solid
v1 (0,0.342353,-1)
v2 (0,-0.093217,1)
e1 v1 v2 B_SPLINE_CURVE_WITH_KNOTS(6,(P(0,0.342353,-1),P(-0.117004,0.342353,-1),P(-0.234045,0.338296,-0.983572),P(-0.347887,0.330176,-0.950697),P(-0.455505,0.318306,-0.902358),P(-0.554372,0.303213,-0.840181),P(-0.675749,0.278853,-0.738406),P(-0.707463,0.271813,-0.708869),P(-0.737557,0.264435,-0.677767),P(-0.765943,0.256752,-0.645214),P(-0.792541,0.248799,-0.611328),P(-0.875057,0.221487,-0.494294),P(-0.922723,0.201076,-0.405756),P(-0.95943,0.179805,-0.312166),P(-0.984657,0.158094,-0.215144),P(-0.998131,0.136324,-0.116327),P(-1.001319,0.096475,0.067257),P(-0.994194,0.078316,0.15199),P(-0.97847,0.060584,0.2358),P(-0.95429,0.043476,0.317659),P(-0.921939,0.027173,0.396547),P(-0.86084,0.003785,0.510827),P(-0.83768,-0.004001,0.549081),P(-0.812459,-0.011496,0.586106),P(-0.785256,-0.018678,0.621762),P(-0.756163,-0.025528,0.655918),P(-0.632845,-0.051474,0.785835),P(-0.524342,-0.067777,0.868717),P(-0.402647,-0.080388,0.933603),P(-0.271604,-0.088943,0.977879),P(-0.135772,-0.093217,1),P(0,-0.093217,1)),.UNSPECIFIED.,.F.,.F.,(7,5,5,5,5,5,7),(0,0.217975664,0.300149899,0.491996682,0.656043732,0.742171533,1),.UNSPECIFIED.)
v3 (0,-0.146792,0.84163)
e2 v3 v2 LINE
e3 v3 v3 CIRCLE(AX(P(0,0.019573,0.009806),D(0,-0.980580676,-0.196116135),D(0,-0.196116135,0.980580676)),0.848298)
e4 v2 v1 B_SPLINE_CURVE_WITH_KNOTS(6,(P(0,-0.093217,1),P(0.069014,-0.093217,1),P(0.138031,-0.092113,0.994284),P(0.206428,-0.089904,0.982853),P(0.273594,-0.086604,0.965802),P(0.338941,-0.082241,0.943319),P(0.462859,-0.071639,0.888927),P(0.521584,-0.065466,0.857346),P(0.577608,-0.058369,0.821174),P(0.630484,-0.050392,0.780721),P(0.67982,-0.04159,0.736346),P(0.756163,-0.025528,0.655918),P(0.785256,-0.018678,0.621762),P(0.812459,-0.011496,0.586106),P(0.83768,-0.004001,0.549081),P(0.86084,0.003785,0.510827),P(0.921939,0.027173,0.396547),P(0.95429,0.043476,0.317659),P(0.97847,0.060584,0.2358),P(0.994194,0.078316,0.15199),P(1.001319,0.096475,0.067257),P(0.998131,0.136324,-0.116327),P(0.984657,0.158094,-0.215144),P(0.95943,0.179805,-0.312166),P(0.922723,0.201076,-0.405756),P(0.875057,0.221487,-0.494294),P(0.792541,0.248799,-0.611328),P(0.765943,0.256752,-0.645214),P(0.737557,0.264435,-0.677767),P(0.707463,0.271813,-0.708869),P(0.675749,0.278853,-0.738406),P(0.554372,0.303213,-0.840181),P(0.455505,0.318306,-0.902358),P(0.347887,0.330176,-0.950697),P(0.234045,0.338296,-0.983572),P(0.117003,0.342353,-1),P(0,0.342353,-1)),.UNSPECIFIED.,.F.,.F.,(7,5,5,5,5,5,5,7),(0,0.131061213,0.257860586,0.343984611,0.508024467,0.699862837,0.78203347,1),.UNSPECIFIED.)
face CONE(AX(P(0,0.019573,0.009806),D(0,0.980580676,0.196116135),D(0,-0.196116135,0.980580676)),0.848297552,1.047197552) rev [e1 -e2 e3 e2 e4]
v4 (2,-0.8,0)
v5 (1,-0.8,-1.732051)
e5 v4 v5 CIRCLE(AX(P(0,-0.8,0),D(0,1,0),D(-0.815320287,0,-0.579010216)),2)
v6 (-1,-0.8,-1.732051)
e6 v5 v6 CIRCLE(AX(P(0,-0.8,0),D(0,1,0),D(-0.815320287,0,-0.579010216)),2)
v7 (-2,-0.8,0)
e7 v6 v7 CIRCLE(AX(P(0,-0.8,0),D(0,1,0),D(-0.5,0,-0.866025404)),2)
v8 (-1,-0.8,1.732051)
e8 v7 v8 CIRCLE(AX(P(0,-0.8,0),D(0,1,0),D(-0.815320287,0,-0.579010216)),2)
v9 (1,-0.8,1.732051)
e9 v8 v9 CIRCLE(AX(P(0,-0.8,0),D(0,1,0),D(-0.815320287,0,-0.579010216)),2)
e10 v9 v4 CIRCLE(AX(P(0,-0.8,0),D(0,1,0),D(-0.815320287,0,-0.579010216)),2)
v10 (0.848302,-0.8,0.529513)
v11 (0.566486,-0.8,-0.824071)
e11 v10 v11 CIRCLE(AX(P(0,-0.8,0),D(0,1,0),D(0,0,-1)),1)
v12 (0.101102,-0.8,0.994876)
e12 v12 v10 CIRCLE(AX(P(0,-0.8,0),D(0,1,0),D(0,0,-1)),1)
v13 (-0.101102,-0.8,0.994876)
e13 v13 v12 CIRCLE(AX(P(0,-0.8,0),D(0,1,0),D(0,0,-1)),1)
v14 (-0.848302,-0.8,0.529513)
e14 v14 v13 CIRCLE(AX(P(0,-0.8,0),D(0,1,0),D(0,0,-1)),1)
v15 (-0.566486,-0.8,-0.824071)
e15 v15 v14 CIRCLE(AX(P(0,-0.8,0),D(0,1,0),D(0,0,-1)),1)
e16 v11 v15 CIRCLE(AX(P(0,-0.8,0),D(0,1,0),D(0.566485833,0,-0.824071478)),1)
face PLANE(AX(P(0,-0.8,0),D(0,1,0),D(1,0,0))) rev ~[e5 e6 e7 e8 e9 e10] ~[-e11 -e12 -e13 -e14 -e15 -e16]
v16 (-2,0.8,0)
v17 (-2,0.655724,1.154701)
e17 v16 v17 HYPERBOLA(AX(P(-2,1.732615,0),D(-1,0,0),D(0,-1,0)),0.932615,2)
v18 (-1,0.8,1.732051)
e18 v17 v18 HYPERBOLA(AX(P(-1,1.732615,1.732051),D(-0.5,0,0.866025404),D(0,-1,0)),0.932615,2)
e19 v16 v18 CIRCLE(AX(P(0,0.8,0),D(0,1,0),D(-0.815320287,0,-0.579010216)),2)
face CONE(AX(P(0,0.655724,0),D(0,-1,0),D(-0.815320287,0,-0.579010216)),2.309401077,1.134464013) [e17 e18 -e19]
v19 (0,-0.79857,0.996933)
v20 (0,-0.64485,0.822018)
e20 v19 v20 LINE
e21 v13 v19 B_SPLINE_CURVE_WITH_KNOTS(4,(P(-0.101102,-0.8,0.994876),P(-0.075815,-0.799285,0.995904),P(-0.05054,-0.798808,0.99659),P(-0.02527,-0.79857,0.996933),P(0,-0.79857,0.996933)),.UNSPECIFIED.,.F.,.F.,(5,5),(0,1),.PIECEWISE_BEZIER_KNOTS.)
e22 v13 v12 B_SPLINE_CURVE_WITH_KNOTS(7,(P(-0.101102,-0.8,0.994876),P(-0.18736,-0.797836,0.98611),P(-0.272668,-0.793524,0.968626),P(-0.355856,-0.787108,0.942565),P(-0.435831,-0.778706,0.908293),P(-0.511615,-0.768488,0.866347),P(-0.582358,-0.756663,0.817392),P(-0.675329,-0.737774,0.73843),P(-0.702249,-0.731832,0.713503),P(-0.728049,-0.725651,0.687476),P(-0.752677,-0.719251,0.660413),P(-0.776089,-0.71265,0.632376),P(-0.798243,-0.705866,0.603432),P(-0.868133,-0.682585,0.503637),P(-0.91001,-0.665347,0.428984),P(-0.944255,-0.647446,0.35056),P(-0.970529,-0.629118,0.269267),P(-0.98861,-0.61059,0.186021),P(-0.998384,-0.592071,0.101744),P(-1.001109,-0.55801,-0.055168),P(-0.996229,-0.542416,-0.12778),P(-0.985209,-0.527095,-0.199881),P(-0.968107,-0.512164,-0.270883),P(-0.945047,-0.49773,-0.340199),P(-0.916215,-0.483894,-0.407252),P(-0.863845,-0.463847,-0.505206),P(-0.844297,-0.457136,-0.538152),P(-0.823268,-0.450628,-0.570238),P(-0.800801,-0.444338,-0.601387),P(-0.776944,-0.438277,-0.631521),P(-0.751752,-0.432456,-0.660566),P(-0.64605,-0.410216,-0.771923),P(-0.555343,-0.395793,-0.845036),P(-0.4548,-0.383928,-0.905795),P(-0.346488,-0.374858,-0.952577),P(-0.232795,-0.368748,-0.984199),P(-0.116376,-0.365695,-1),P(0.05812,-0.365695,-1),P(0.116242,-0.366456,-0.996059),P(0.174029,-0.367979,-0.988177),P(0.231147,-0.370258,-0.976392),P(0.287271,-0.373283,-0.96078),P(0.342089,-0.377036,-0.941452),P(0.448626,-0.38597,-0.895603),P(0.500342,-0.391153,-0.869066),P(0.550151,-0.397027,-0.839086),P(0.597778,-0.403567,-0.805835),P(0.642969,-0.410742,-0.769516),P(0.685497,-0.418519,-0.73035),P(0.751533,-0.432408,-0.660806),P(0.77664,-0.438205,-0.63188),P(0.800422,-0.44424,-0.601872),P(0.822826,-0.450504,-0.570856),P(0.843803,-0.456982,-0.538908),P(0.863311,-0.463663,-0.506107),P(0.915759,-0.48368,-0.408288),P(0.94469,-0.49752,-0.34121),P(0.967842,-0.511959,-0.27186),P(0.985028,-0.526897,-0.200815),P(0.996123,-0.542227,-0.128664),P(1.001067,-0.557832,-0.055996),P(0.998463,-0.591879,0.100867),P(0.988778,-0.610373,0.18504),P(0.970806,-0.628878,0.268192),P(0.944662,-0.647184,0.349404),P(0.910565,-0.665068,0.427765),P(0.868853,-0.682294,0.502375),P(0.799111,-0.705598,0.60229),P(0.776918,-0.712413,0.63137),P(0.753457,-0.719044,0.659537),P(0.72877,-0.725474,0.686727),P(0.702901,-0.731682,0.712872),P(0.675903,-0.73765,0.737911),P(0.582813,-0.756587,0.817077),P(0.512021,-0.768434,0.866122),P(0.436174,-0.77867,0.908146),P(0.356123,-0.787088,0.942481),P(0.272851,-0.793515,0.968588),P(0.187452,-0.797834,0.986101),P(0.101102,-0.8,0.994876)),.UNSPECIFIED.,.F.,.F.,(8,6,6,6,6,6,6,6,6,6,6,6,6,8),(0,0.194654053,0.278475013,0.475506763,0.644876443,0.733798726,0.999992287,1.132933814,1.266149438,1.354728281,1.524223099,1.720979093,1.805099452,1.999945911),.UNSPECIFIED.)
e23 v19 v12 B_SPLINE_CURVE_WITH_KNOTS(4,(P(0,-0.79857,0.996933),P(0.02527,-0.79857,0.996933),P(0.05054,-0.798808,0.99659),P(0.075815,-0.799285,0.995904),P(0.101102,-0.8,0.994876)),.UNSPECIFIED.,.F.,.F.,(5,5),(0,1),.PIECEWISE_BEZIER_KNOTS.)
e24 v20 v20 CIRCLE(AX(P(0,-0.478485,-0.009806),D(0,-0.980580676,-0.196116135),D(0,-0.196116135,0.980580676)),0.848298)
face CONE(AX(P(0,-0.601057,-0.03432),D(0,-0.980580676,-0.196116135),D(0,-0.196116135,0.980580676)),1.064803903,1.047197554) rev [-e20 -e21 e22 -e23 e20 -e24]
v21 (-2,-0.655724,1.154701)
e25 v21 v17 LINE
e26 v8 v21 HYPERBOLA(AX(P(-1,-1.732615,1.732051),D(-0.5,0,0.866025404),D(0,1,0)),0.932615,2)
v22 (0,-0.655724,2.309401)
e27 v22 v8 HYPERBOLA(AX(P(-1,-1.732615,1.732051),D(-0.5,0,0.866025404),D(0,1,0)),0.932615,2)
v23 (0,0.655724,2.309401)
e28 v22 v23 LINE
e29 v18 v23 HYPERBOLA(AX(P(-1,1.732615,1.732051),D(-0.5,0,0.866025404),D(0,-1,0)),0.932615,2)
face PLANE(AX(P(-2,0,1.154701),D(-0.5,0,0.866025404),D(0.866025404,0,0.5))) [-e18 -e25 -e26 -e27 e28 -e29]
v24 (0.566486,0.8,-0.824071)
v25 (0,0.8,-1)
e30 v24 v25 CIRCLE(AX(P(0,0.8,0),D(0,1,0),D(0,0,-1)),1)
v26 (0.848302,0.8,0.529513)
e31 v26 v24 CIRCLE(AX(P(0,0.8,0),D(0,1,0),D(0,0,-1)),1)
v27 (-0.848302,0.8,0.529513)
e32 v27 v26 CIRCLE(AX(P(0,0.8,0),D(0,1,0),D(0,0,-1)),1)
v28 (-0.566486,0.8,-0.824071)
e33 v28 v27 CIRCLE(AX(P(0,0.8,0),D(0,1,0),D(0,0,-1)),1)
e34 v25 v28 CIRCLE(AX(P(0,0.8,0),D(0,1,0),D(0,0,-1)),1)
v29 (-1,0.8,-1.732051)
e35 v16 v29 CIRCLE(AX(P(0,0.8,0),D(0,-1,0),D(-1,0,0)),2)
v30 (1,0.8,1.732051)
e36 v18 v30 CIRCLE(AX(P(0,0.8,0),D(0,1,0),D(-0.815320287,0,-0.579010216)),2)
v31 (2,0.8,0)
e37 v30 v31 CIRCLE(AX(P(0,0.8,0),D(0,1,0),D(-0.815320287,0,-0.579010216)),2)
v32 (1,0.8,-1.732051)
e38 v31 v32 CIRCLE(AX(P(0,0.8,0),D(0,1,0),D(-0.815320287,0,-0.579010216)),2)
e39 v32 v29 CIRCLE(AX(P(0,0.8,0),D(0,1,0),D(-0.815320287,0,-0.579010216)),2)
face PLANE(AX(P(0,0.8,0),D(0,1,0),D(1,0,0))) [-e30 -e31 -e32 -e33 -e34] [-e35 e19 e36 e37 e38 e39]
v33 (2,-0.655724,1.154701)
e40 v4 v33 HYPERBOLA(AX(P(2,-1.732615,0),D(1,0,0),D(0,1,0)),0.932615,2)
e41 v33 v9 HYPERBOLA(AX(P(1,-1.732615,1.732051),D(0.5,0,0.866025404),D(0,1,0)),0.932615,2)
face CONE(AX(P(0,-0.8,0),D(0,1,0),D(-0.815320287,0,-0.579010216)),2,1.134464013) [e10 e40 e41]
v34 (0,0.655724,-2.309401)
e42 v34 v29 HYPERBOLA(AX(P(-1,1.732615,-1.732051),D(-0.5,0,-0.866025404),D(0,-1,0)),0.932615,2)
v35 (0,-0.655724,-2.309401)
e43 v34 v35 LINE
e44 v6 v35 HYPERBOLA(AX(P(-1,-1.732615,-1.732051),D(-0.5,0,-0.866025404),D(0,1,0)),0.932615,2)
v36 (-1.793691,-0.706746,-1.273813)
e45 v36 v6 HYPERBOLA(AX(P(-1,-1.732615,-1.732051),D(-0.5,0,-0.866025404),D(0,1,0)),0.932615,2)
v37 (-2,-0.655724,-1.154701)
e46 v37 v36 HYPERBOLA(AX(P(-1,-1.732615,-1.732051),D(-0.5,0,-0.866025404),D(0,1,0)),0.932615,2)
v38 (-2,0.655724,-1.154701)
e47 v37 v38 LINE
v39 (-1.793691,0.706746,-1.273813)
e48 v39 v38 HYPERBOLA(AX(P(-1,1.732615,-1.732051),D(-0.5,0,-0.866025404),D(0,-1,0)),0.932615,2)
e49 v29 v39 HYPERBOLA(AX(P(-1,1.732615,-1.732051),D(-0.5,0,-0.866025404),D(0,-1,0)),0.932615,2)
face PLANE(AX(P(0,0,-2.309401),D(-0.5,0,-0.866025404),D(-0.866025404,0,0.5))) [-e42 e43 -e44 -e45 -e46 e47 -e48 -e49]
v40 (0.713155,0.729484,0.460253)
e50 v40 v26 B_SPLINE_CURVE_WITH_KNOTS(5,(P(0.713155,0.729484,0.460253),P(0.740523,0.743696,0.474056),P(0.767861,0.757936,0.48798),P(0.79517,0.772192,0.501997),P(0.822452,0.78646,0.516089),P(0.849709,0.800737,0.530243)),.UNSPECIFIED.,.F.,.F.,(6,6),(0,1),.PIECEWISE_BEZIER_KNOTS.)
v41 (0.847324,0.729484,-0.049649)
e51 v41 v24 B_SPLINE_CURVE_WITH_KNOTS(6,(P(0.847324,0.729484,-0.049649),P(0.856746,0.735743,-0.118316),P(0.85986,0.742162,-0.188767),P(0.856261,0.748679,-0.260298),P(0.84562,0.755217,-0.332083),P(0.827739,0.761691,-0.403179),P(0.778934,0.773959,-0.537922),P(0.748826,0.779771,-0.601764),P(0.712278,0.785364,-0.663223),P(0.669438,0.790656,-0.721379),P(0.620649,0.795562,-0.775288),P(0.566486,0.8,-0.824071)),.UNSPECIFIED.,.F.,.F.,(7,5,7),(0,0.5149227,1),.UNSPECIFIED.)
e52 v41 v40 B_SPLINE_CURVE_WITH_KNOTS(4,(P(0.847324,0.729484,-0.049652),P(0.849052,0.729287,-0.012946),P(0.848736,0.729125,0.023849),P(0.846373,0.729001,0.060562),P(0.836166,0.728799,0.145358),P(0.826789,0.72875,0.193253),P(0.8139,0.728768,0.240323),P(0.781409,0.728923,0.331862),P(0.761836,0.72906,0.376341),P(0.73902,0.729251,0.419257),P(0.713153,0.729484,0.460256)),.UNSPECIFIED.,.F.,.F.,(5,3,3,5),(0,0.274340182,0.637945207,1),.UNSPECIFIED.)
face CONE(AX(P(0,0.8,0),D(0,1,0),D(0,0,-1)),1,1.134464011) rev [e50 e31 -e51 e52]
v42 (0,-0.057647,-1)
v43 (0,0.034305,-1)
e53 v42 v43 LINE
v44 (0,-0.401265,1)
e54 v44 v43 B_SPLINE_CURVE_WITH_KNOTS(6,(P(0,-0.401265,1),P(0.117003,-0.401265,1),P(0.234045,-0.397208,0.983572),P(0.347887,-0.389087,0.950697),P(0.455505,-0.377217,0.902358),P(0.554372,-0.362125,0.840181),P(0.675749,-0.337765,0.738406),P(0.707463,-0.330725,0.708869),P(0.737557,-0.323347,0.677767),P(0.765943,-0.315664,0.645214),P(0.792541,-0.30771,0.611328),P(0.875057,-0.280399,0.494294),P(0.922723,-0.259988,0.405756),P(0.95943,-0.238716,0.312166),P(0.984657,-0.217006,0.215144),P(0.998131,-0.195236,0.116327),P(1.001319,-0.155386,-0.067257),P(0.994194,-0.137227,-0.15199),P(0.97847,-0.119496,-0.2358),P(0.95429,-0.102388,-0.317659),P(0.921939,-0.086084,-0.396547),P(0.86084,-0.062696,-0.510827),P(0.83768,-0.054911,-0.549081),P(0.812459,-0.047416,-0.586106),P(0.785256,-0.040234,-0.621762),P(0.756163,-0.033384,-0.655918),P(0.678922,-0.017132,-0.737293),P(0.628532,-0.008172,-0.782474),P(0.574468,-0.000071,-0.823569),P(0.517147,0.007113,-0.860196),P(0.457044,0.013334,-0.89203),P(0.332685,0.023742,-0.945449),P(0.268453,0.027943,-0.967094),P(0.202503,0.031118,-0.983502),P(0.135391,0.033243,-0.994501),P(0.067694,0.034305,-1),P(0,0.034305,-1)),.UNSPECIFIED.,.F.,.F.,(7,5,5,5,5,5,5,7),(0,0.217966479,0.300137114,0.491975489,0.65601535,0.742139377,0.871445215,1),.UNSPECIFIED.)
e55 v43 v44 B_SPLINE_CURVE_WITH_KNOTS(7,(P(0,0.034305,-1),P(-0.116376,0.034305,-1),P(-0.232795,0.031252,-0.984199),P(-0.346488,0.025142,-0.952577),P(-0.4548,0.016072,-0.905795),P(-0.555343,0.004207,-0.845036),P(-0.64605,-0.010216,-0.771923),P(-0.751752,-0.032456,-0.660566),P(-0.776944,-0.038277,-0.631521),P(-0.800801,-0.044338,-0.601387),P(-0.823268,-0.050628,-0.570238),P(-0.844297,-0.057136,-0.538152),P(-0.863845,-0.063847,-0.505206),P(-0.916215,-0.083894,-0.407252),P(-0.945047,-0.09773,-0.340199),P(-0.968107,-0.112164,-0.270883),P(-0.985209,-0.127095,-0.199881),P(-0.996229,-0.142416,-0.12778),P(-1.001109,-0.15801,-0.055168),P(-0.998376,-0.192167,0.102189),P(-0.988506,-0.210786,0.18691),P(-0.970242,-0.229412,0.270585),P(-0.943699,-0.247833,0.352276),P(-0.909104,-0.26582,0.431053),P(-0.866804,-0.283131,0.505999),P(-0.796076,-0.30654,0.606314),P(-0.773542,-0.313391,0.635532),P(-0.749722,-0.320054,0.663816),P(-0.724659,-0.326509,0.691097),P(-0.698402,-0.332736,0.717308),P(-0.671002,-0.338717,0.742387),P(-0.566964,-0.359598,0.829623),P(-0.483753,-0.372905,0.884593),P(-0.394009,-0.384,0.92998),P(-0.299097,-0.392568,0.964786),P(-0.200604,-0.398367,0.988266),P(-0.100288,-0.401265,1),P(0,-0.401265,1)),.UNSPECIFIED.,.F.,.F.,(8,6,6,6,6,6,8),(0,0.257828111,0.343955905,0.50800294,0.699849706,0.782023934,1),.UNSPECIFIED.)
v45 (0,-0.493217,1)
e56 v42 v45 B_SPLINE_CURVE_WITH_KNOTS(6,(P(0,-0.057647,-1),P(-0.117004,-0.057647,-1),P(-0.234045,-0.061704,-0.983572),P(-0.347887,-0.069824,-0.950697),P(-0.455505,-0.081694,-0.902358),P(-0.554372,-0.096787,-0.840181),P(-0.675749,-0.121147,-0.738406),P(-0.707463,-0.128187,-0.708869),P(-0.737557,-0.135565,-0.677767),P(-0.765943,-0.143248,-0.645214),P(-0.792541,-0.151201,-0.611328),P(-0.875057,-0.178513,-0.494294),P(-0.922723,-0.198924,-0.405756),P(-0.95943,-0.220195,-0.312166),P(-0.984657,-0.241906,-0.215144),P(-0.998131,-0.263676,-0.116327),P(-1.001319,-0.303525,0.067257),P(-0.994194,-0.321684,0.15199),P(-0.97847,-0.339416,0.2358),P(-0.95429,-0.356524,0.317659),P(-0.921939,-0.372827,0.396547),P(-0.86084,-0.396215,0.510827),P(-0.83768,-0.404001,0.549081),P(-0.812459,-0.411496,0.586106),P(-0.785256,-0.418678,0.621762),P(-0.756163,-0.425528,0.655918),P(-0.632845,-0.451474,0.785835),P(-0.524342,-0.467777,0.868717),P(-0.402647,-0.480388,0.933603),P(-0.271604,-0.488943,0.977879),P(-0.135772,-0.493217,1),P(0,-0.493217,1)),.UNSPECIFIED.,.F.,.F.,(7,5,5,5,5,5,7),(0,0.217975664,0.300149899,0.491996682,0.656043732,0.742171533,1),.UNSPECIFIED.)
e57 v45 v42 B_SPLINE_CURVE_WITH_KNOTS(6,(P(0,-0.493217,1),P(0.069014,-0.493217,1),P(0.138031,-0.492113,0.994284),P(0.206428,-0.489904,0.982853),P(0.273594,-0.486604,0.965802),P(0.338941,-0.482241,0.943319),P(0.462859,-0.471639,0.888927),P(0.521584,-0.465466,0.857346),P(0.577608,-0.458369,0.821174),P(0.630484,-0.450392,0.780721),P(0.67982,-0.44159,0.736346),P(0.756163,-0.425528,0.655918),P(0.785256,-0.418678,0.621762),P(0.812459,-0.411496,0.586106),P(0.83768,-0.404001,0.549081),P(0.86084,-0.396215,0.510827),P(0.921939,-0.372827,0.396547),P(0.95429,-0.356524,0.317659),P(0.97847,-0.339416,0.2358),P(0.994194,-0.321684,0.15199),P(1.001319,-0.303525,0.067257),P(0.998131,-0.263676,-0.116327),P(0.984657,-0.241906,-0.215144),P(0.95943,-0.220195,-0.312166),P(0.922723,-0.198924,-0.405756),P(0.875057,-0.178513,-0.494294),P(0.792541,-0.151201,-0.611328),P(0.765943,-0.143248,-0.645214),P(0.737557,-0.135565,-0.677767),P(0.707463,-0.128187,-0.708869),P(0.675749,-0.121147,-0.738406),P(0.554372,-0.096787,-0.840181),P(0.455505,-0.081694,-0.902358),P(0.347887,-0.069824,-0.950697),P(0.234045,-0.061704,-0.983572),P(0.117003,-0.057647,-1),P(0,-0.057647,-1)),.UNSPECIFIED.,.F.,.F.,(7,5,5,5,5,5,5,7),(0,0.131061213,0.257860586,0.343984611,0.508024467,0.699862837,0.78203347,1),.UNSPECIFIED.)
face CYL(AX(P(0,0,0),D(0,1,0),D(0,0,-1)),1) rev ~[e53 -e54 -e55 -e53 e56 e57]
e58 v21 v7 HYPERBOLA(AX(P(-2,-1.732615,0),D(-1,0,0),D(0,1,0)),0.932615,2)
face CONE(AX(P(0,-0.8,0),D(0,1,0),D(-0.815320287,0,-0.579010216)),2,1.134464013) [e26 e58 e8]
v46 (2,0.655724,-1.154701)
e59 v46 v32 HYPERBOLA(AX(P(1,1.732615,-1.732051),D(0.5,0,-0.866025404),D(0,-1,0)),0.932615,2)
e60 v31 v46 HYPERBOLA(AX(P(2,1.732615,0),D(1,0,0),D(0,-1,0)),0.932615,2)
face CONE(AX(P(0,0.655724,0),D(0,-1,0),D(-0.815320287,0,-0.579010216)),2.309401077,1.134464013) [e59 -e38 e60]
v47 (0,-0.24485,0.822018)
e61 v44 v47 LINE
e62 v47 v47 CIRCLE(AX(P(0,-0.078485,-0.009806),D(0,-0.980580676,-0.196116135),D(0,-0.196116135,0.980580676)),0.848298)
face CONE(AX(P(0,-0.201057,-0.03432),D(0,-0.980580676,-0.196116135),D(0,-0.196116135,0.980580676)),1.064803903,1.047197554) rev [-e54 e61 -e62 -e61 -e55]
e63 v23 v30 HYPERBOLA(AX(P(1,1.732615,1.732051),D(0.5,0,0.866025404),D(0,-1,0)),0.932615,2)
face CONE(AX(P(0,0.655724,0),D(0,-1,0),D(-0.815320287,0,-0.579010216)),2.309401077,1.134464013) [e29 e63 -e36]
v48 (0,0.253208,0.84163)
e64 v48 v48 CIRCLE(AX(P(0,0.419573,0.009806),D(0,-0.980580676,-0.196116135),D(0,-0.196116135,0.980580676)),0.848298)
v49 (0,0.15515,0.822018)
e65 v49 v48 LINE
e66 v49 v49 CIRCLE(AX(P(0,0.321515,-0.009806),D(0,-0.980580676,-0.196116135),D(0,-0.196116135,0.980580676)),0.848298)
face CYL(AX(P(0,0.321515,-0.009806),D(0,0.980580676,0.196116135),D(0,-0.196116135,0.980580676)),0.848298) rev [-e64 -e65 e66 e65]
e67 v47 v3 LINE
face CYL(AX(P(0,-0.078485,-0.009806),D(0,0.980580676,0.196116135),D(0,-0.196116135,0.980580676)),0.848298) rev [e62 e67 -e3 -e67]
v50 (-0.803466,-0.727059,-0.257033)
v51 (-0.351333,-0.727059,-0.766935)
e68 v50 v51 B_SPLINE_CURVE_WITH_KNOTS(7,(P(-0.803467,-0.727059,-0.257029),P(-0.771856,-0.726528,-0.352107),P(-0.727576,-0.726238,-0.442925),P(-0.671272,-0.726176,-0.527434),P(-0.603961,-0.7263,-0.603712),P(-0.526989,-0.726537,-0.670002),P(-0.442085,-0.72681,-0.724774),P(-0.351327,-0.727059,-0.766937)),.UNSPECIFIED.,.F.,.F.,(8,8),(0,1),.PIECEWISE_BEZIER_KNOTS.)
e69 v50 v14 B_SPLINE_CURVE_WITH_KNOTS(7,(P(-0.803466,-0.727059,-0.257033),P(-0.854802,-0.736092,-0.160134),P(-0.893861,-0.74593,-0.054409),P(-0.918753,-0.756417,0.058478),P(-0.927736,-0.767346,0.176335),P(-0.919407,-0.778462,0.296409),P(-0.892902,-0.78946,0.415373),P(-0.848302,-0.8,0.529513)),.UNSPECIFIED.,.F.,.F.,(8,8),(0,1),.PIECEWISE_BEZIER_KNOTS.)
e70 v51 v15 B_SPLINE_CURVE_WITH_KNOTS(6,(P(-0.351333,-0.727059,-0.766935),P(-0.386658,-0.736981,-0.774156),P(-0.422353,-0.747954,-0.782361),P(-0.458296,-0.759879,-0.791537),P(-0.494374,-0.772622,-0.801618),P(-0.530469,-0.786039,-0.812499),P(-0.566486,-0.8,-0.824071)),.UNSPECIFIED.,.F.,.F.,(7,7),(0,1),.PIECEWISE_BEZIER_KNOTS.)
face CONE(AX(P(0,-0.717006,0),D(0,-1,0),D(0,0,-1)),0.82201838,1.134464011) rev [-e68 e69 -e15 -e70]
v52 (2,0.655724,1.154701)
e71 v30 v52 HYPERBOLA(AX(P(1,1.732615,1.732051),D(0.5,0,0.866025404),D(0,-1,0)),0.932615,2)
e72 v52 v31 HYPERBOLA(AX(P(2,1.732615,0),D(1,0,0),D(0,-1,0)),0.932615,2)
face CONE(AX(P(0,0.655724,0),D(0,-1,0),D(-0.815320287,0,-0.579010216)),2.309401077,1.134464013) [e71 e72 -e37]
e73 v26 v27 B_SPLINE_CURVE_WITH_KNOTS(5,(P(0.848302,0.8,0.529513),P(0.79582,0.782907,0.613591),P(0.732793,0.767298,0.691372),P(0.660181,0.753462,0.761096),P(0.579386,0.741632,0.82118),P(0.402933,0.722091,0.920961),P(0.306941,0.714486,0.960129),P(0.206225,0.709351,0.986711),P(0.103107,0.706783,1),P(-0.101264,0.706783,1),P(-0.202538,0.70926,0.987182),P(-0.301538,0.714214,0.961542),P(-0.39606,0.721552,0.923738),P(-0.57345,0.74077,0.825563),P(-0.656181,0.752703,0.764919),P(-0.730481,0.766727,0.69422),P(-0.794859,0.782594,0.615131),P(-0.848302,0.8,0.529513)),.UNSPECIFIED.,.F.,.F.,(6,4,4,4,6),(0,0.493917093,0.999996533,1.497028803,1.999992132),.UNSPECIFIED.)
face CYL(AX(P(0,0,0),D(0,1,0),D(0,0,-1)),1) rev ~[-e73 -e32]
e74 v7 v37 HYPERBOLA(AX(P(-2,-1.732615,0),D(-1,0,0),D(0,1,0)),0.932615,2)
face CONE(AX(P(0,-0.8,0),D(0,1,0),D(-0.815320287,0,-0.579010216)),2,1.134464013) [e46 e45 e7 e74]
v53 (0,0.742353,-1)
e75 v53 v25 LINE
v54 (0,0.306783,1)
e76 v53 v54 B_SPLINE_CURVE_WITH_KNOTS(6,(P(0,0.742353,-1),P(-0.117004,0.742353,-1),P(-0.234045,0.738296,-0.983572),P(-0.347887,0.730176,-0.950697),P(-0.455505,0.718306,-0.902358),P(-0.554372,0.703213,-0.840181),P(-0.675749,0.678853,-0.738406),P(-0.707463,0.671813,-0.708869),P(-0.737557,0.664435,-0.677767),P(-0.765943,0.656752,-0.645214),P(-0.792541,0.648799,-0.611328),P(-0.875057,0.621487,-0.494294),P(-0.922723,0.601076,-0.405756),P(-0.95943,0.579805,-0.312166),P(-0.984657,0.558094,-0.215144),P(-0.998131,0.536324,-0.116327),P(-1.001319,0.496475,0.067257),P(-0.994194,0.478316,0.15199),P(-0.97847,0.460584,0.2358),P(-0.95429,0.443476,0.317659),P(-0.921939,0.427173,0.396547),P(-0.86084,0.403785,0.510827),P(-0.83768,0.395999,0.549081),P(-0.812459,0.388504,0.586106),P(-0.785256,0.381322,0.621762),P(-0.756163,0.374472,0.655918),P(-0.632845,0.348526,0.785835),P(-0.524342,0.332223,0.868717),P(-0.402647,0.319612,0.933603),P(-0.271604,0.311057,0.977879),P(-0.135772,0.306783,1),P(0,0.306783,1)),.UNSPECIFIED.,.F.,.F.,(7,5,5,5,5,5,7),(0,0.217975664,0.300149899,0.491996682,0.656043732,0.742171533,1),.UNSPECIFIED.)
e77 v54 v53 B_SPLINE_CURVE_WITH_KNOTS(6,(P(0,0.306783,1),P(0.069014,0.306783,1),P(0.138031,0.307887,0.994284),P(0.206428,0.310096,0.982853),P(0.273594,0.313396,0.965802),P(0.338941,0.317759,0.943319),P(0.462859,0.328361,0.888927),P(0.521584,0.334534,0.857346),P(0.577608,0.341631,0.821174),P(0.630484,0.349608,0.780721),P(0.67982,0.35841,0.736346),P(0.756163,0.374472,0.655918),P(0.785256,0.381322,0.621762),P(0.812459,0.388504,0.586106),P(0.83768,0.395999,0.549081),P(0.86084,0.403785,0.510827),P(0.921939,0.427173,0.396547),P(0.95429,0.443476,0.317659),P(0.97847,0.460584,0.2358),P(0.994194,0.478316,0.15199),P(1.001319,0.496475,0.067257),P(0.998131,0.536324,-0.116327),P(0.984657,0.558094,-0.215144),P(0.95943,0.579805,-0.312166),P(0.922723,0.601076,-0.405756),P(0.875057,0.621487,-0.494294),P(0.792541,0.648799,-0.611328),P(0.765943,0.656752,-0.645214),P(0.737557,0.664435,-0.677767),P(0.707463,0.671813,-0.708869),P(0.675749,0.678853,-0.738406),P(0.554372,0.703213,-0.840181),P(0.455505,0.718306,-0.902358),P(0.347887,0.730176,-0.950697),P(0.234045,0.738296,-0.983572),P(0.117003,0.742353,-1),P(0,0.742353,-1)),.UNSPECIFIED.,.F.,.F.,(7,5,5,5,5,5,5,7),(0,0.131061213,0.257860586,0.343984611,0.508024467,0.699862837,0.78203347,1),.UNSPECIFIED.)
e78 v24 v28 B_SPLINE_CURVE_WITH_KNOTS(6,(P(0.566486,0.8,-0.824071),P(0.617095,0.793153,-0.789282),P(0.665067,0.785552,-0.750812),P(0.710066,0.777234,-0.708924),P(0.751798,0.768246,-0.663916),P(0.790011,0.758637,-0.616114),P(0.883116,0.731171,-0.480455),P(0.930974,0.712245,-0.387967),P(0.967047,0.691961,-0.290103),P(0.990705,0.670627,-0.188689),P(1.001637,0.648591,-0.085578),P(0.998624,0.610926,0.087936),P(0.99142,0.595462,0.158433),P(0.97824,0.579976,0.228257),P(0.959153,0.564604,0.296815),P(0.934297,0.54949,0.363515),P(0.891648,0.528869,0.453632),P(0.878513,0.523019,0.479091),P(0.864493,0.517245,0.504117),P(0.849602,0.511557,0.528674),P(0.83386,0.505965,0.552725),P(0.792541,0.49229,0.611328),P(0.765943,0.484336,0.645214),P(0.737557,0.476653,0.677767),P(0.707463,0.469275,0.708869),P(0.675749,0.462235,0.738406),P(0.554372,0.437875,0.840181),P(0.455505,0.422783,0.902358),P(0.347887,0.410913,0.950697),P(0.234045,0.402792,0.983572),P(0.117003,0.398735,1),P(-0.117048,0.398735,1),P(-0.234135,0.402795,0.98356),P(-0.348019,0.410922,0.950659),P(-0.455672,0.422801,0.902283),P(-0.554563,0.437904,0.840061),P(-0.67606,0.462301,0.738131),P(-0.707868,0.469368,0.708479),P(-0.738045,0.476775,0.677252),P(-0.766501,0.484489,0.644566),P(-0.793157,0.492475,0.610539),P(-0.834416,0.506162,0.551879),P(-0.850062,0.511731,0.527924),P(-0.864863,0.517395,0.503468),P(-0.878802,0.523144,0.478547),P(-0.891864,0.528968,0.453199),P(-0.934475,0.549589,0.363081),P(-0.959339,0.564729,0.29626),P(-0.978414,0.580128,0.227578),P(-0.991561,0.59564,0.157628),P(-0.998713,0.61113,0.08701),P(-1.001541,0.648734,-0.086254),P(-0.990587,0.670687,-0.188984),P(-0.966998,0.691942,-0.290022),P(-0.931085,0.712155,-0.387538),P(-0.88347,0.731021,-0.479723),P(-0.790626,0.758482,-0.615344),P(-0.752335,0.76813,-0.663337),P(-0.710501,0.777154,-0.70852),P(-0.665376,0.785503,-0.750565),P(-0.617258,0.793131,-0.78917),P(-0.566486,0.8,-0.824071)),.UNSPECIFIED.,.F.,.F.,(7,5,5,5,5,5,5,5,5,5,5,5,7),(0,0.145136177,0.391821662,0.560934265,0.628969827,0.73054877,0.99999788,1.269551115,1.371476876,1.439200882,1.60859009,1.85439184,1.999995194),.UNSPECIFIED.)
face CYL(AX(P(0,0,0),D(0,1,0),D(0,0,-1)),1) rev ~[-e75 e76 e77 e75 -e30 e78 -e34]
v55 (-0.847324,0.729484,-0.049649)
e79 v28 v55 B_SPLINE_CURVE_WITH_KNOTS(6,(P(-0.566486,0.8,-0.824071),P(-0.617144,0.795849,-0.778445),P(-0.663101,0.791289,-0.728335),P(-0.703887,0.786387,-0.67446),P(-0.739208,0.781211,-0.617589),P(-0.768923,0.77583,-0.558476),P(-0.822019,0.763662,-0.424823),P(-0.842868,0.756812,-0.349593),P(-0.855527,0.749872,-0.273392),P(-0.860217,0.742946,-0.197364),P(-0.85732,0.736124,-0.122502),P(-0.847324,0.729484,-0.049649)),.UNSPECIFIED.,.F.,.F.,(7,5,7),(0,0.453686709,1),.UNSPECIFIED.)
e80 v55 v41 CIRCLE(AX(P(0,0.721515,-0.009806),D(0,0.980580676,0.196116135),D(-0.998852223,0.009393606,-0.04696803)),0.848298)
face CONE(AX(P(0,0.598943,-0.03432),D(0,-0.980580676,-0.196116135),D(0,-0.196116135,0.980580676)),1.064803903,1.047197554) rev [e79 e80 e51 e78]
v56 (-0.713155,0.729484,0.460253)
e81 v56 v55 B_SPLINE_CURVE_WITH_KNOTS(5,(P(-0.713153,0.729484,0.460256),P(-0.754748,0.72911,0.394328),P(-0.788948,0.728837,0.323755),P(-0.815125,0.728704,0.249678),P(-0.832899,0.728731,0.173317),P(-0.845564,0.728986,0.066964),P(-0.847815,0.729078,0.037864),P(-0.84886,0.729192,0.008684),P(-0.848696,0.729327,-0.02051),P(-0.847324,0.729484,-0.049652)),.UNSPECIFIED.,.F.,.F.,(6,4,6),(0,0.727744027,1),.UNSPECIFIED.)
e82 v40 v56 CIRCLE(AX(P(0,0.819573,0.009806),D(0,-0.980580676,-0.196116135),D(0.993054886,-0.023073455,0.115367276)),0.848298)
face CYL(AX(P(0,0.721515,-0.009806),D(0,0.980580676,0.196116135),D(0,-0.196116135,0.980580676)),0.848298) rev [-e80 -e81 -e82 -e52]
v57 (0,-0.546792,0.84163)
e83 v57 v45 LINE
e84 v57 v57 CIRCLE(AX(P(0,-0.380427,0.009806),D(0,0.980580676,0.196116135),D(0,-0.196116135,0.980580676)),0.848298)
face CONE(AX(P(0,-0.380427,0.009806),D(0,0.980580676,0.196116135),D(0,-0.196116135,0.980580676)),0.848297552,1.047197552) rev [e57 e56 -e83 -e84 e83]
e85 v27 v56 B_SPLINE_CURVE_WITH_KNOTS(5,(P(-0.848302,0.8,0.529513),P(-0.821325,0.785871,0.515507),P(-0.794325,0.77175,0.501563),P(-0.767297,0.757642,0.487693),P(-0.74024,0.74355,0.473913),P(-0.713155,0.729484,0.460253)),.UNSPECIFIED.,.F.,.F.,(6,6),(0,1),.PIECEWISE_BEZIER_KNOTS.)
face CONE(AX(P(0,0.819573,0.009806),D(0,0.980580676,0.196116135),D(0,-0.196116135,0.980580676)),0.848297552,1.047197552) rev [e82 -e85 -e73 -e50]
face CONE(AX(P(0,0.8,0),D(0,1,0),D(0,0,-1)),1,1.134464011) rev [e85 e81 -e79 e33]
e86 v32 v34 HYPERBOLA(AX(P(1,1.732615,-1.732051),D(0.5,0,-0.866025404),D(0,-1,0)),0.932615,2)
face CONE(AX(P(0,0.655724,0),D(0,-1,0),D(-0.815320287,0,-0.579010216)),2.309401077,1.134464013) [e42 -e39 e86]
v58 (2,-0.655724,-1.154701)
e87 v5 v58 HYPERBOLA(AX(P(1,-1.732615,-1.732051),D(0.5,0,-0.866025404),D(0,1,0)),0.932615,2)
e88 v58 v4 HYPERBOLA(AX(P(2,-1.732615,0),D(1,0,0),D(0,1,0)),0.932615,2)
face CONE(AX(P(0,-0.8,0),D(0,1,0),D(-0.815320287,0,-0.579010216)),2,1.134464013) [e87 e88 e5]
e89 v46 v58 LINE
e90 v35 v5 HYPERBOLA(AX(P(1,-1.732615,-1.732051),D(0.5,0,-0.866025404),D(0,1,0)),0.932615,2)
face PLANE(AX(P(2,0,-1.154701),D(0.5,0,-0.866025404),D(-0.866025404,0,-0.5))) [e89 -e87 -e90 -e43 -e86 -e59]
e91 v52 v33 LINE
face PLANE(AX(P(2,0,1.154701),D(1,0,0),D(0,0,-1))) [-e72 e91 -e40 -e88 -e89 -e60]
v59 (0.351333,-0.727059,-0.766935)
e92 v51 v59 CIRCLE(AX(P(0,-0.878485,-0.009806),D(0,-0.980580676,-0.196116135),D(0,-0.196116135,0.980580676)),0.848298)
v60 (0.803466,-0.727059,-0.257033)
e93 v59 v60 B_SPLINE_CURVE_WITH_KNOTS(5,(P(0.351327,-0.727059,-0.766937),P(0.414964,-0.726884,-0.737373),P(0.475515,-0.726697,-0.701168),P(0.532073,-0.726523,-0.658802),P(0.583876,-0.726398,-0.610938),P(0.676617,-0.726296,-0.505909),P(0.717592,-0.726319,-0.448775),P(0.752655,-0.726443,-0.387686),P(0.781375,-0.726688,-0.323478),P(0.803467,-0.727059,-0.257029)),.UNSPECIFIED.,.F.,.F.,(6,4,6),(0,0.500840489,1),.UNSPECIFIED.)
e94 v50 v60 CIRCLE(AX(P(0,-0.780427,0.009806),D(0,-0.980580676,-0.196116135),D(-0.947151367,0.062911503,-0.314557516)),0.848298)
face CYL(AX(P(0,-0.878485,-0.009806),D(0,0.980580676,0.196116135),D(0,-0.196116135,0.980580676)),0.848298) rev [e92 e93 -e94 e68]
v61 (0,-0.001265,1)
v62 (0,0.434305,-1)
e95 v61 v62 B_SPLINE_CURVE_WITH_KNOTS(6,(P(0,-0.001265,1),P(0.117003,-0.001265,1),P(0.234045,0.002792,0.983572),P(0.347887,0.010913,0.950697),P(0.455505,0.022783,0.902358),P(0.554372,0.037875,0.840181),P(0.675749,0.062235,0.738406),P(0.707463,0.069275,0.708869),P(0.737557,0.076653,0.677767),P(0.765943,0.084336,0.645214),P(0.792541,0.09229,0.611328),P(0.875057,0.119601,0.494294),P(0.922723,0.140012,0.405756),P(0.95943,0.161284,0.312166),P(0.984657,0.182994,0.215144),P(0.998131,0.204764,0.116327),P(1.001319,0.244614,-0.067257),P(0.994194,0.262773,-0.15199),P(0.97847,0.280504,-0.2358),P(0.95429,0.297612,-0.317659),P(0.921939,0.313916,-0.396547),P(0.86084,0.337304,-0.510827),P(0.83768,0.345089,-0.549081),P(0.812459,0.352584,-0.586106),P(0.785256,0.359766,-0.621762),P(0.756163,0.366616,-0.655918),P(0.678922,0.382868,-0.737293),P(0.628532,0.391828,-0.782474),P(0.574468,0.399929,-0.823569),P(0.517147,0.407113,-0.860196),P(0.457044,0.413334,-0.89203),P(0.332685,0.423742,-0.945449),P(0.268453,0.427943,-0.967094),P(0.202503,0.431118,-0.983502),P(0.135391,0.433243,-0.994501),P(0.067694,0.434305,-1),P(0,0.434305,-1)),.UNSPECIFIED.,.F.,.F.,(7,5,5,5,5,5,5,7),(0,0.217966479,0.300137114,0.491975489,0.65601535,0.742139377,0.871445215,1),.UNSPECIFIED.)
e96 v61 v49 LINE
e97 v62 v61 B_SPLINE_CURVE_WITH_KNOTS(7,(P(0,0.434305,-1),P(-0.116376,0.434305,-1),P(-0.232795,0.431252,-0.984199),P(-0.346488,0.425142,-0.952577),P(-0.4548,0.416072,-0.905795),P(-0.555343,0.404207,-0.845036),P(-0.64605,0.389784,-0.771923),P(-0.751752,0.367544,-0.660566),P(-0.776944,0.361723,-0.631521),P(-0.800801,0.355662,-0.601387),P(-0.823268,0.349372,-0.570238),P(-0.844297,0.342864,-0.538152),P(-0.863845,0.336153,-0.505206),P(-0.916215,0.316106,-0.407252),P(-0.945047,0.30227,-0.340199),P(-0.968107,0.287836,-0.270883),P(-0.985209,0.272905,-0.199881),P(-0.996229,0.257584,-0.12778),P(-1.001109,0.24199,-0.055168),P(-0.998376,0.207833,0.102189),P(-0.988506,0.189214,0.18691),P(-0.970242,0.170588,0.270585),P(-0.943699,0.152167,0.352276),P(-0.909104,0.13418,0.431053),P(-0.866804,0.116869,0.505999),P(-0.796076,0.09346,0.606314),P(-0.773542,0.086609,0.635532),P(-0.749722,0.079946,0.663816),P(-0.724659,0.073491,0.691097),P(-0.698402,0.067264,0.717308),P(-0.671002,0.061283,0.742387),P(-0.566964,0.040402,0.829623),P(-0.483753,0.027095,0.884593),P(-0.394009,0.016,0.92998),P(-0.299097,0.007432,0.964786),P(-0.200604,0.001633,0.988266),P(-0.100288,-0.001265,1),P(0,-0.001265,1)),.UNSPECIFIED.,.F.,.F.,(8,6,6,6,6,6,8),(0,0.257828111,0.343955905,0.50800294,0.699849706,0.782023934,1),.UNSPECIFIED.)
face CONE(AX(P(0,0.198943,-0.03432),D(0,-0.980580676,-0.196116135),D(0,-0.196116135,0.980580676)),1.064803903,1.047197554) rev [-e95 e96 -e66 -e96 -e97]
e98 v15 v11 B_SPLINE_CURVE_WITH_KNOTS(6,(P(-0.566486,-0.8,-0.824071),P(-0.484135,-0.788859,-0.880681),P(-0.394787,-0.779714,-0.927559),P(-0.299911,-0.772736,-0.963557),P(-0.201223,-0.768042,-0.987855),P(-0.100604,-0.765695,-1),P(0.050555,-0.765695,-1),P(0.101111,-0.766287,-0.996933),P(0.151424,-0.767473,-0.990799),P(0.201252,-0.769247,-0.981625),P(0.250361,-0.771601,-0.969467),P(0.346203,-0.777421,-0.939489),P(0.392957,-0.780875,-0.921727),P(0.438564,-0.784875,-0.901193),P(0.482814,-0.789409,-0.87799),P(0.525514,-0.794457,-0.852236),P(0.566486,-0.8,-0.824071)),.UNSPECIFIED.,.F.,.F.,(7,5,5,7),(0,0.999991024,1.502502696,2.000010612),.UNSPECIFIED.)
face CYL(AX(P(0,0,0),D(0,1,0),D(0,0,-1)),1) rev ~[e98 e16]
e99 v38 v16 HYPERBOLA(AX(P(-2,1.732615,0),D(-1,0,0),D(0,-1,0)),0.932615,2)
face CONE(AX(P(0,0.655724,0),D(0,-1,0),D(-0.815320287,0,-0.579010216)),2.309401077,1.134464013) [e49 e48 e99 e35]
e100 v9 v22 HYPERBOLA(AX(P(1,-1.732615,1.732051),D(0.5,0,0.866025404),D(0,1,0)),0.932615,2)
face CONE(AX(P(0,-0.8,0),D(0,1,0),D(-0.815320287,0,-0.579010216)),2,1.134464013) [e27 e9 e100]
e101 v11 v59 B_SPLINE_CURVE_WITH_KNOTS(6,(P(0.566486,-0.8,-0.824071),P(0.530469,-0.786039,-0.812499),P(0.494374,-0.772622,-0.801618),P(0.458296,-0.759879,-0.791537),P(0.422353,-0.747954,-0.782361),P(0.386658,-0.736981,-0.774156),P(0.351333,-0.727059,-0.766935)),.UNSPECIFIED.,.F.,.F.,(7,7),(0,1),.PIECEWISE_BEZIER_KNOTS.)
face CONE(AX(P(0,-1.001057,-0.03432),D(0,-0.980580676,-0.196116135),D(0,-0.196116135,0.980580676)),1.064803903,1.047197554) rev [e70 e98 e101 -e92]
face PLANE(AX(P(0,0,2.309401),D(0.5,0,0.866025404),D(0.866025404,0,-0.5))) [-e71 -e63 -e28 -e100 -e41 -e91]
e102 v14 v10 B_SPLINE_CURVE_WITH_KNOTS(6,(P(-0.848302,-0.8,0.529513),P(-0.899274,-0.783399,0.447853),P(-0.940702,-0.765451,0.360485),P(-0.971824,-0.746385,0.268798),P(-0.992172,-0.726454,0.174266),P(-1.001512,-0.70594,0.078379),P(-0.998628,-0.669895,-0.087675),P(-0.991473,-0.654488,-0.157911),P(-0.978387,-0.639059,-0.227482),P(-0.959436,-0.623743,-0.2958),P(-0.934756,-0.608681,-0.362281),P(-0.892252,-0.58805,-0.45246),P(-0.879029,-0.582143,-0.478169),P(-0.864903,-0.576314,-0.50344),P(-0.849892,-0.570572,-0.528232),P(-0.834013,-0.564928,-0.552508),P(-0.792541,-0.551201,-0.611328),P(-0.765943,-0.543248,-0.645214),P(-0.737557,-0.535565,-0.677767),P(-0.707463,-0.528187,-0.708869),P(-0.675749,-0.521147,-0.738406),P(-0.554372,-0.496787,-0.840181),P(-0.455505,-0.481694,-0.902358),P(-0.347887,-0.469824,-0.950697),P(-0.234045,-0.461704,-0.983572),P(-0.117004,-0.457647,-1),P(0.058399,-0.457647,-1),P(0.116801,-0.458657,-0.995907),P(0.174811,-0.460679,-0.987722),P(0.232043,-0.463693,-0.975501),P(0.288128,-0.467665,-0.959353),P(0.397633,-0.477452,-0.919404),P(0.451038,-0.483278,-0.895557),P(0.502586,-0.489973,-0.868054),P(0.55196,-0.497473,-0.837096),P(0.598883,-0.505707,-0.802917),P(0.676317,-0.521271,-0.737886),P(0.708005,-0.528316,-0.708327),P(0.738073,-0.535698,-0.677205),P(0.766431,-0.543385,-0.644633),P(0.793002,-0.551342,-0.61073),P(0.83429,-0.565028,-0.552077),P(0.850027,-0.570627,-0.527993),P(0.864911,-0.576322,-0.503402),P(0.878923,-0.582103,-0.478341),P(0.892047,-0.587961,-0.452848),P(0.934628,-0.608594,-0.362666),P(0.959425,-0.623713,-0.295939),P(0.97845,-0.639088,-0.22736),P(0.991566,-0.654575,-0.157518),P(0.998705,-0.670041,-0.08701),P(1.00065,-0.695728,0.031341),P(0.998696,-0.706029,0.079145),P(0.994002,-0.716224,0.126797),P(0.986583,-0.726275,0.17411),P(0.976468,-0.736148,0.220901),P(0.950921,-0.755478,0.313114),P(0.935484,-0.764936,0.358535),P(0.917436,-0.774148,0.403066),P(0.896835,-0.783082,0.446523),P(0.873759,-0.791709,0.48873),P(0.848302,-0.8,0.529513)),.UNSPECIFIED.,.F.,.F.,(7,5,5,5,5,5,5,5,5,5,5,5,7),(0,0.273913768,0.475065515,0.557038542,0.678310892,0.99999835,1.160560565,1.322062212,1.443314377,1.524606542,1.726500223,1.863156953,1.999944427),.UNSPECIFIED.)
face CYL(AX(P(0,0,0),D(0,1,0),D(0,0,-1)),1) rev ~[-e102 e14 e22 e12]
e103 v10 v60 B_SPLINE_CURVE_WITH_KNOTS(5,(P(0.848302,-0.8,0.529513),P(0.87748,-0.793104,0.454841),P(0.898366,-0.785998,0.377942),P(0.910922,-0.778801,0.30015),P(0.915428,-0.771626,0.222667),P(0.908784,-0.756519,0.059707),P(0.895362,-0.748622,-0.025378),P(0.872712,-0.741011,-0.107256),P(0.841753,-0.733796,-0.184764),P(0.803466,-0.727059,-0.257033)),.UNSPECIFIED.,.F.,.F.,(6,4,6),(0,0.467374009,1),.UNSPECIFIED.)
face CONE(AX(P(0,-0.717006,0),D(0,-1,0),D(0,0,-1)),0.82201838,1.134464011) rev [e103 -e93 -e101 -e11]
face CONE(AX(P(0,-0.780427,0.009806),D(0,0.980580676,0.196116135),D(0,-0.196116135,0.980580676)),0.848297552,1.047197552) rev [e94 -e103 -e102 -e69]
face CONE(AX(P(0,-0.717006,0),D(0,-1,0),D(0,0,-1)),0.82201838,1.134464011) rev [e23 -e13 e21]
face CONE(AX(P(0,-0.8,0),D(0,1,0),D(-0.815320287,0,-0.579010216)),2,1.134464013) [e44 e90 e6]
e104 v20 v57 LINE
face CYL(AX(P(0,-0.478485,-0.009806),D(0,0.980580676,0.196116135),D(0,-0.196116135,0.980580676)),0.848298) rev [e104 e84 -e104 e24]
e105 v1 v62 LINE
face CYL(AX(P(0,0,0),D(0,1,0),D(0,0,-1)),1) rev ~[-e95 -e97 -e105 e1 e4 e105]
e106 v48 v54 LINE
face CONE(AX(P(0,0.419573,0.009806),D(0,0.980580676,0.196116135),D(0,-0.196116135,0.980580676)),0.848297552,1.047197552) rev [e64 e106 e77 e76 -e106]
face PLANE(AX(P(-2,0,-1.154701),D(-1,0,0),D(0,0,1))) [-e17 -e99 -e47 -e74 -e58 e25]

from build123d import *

# Parameters (mm, degrees)
EXTRUDE1_DEPTH      = 0.8
SKETCH2_W           = 1
SKETCH2_H           = 1.6
LPATTERN1_COUNT     = 4
LPATTERN1_PITCH     = 0.4
LPATTERN1_COL_COUNT = 2
LPATTERN1_COL_PITCH = 0.4


with BuildPart() as part:
    # Sketch1 → Extrude1 (new, symmetric)
    with BuildSketch(Plane(origin=(0, 0, 0), x_dir=(1, 0, 0), z_dir=(0, 1, 0))):
        Polygon((0, 2.309401077), (-2, 1.154700538), (-2, -1.154700538), (0, -2.309401077), (2, -1.154700538), (2, 1.154700538), align=None)
    extrude(amount=EXTRUDE1_DEPTH, both=True)

    # Sketch4 → Cut-Revolve2 (revolve, cut)
    with BuildSketch(Plane(origin=(0, 0, 0), x_dir=(0, 0, -1), z_dir=(1, 0, 0))):
        Polygon((0, 0.8), (1, 0.8), (0.82201838, 0.717005807), (0.82201838, -0.717005807), (1, -0.8), (0, -0.8), align=None)
    revolve(axis=Axis((0, 0.8, 0), (0, 1, 0)), mode=Mode.SUBTRACT)


with BuildPart() as body_2:
    # Sketch2 → Revolve1 (revolve)
    with BuildSketch(Plane(origin=(0, 0, 0), x_dir=(0, 0, -1), z_dir=(1, 0, 0))):
        with Locations((0.5, 0)):
            Rectangle(SKETCH2_W, SKETCH2_H)
    revolve(axis=Axis((0, -1.8, 0), (0, 1, 0)))

    # Sketch3 → Cut-Revolve1 (revolve, cut)
    with BuildSketch(Plane(origin=(0, 0, 0), x_dir=(0, 0, -1), z_dir=(1, 0, 0)), mode=Mode.PRIVATE) as cut_revolve1_sk:
        Polygon((1.009805807, 0.750970966), (1.078446454, 0.40776773), (0.841629993, 0.487879925), (0.82201838, 0.585937993), align=None)
    cut_revolve1 = revolve(cut_revolve1_sk.sketch.rotate(Axis((0, 0.8, 0.085891176), (0, -0.9805806756909201, -0.19611613513818438)), 180), axis=Axis((0, 0.8, 0.085891176), (0, -0.9805806756909201, -0.19611613513818438)), mode=Mode.SUBTRACT)

    # LPattern1: Cut-Revolve1 ×4
    with Locations(*[(0, -i * LPATTERN1_PITCH, 0) for i in range(1, LPATTERN1_COUNT)]):
        add(cut_revolve1, mode=Mode.SUBTRACT)

    # LPattern1 col: Cut-Revolve1 ×2
    with Locations(*[(0, i * LPATTERN1_COL_PITCH, 0) for i in range(1, LPATTERN1_COL_COUNT)]):
        add(cut_revolve1, mode=Mode.SUBTRACT)


with BuildPart() as part_1:
    add(part.part)

    # Combine1: cut body 2
    add(body_2.part, mode=Mode.SUBTRACT)

    # Sketch5 → Cut-Revolve3 (revolve, cut)
    with BuildSketch(Plane(origin=(0, 0, 0), x_dir=(0, 0, -1), z_dir=(1, 0, 0)), mode=Mode.PRIVATE) as cut_revolve3_sk:
        Polygon((0, -0.8), (2, -0.8), (2.309401077, -0.655723908), (2.309401077, 0.655723908), (2, 0.8), (0, 0.8), (0, 2.07), (3.579401077, 2.07), (3.579401077, -2.07), (0, -2.07), align=None)
    revolve(cut_revolve3_sk.sketch.rotate(Axis((0, -0.8, 0), (0, 1, 0)), 54.619043446), axis=Axis((0, -0.8, 0), (0, 1, 0)), mode=Mode.SUBTRACT)


solid = part_1.part
